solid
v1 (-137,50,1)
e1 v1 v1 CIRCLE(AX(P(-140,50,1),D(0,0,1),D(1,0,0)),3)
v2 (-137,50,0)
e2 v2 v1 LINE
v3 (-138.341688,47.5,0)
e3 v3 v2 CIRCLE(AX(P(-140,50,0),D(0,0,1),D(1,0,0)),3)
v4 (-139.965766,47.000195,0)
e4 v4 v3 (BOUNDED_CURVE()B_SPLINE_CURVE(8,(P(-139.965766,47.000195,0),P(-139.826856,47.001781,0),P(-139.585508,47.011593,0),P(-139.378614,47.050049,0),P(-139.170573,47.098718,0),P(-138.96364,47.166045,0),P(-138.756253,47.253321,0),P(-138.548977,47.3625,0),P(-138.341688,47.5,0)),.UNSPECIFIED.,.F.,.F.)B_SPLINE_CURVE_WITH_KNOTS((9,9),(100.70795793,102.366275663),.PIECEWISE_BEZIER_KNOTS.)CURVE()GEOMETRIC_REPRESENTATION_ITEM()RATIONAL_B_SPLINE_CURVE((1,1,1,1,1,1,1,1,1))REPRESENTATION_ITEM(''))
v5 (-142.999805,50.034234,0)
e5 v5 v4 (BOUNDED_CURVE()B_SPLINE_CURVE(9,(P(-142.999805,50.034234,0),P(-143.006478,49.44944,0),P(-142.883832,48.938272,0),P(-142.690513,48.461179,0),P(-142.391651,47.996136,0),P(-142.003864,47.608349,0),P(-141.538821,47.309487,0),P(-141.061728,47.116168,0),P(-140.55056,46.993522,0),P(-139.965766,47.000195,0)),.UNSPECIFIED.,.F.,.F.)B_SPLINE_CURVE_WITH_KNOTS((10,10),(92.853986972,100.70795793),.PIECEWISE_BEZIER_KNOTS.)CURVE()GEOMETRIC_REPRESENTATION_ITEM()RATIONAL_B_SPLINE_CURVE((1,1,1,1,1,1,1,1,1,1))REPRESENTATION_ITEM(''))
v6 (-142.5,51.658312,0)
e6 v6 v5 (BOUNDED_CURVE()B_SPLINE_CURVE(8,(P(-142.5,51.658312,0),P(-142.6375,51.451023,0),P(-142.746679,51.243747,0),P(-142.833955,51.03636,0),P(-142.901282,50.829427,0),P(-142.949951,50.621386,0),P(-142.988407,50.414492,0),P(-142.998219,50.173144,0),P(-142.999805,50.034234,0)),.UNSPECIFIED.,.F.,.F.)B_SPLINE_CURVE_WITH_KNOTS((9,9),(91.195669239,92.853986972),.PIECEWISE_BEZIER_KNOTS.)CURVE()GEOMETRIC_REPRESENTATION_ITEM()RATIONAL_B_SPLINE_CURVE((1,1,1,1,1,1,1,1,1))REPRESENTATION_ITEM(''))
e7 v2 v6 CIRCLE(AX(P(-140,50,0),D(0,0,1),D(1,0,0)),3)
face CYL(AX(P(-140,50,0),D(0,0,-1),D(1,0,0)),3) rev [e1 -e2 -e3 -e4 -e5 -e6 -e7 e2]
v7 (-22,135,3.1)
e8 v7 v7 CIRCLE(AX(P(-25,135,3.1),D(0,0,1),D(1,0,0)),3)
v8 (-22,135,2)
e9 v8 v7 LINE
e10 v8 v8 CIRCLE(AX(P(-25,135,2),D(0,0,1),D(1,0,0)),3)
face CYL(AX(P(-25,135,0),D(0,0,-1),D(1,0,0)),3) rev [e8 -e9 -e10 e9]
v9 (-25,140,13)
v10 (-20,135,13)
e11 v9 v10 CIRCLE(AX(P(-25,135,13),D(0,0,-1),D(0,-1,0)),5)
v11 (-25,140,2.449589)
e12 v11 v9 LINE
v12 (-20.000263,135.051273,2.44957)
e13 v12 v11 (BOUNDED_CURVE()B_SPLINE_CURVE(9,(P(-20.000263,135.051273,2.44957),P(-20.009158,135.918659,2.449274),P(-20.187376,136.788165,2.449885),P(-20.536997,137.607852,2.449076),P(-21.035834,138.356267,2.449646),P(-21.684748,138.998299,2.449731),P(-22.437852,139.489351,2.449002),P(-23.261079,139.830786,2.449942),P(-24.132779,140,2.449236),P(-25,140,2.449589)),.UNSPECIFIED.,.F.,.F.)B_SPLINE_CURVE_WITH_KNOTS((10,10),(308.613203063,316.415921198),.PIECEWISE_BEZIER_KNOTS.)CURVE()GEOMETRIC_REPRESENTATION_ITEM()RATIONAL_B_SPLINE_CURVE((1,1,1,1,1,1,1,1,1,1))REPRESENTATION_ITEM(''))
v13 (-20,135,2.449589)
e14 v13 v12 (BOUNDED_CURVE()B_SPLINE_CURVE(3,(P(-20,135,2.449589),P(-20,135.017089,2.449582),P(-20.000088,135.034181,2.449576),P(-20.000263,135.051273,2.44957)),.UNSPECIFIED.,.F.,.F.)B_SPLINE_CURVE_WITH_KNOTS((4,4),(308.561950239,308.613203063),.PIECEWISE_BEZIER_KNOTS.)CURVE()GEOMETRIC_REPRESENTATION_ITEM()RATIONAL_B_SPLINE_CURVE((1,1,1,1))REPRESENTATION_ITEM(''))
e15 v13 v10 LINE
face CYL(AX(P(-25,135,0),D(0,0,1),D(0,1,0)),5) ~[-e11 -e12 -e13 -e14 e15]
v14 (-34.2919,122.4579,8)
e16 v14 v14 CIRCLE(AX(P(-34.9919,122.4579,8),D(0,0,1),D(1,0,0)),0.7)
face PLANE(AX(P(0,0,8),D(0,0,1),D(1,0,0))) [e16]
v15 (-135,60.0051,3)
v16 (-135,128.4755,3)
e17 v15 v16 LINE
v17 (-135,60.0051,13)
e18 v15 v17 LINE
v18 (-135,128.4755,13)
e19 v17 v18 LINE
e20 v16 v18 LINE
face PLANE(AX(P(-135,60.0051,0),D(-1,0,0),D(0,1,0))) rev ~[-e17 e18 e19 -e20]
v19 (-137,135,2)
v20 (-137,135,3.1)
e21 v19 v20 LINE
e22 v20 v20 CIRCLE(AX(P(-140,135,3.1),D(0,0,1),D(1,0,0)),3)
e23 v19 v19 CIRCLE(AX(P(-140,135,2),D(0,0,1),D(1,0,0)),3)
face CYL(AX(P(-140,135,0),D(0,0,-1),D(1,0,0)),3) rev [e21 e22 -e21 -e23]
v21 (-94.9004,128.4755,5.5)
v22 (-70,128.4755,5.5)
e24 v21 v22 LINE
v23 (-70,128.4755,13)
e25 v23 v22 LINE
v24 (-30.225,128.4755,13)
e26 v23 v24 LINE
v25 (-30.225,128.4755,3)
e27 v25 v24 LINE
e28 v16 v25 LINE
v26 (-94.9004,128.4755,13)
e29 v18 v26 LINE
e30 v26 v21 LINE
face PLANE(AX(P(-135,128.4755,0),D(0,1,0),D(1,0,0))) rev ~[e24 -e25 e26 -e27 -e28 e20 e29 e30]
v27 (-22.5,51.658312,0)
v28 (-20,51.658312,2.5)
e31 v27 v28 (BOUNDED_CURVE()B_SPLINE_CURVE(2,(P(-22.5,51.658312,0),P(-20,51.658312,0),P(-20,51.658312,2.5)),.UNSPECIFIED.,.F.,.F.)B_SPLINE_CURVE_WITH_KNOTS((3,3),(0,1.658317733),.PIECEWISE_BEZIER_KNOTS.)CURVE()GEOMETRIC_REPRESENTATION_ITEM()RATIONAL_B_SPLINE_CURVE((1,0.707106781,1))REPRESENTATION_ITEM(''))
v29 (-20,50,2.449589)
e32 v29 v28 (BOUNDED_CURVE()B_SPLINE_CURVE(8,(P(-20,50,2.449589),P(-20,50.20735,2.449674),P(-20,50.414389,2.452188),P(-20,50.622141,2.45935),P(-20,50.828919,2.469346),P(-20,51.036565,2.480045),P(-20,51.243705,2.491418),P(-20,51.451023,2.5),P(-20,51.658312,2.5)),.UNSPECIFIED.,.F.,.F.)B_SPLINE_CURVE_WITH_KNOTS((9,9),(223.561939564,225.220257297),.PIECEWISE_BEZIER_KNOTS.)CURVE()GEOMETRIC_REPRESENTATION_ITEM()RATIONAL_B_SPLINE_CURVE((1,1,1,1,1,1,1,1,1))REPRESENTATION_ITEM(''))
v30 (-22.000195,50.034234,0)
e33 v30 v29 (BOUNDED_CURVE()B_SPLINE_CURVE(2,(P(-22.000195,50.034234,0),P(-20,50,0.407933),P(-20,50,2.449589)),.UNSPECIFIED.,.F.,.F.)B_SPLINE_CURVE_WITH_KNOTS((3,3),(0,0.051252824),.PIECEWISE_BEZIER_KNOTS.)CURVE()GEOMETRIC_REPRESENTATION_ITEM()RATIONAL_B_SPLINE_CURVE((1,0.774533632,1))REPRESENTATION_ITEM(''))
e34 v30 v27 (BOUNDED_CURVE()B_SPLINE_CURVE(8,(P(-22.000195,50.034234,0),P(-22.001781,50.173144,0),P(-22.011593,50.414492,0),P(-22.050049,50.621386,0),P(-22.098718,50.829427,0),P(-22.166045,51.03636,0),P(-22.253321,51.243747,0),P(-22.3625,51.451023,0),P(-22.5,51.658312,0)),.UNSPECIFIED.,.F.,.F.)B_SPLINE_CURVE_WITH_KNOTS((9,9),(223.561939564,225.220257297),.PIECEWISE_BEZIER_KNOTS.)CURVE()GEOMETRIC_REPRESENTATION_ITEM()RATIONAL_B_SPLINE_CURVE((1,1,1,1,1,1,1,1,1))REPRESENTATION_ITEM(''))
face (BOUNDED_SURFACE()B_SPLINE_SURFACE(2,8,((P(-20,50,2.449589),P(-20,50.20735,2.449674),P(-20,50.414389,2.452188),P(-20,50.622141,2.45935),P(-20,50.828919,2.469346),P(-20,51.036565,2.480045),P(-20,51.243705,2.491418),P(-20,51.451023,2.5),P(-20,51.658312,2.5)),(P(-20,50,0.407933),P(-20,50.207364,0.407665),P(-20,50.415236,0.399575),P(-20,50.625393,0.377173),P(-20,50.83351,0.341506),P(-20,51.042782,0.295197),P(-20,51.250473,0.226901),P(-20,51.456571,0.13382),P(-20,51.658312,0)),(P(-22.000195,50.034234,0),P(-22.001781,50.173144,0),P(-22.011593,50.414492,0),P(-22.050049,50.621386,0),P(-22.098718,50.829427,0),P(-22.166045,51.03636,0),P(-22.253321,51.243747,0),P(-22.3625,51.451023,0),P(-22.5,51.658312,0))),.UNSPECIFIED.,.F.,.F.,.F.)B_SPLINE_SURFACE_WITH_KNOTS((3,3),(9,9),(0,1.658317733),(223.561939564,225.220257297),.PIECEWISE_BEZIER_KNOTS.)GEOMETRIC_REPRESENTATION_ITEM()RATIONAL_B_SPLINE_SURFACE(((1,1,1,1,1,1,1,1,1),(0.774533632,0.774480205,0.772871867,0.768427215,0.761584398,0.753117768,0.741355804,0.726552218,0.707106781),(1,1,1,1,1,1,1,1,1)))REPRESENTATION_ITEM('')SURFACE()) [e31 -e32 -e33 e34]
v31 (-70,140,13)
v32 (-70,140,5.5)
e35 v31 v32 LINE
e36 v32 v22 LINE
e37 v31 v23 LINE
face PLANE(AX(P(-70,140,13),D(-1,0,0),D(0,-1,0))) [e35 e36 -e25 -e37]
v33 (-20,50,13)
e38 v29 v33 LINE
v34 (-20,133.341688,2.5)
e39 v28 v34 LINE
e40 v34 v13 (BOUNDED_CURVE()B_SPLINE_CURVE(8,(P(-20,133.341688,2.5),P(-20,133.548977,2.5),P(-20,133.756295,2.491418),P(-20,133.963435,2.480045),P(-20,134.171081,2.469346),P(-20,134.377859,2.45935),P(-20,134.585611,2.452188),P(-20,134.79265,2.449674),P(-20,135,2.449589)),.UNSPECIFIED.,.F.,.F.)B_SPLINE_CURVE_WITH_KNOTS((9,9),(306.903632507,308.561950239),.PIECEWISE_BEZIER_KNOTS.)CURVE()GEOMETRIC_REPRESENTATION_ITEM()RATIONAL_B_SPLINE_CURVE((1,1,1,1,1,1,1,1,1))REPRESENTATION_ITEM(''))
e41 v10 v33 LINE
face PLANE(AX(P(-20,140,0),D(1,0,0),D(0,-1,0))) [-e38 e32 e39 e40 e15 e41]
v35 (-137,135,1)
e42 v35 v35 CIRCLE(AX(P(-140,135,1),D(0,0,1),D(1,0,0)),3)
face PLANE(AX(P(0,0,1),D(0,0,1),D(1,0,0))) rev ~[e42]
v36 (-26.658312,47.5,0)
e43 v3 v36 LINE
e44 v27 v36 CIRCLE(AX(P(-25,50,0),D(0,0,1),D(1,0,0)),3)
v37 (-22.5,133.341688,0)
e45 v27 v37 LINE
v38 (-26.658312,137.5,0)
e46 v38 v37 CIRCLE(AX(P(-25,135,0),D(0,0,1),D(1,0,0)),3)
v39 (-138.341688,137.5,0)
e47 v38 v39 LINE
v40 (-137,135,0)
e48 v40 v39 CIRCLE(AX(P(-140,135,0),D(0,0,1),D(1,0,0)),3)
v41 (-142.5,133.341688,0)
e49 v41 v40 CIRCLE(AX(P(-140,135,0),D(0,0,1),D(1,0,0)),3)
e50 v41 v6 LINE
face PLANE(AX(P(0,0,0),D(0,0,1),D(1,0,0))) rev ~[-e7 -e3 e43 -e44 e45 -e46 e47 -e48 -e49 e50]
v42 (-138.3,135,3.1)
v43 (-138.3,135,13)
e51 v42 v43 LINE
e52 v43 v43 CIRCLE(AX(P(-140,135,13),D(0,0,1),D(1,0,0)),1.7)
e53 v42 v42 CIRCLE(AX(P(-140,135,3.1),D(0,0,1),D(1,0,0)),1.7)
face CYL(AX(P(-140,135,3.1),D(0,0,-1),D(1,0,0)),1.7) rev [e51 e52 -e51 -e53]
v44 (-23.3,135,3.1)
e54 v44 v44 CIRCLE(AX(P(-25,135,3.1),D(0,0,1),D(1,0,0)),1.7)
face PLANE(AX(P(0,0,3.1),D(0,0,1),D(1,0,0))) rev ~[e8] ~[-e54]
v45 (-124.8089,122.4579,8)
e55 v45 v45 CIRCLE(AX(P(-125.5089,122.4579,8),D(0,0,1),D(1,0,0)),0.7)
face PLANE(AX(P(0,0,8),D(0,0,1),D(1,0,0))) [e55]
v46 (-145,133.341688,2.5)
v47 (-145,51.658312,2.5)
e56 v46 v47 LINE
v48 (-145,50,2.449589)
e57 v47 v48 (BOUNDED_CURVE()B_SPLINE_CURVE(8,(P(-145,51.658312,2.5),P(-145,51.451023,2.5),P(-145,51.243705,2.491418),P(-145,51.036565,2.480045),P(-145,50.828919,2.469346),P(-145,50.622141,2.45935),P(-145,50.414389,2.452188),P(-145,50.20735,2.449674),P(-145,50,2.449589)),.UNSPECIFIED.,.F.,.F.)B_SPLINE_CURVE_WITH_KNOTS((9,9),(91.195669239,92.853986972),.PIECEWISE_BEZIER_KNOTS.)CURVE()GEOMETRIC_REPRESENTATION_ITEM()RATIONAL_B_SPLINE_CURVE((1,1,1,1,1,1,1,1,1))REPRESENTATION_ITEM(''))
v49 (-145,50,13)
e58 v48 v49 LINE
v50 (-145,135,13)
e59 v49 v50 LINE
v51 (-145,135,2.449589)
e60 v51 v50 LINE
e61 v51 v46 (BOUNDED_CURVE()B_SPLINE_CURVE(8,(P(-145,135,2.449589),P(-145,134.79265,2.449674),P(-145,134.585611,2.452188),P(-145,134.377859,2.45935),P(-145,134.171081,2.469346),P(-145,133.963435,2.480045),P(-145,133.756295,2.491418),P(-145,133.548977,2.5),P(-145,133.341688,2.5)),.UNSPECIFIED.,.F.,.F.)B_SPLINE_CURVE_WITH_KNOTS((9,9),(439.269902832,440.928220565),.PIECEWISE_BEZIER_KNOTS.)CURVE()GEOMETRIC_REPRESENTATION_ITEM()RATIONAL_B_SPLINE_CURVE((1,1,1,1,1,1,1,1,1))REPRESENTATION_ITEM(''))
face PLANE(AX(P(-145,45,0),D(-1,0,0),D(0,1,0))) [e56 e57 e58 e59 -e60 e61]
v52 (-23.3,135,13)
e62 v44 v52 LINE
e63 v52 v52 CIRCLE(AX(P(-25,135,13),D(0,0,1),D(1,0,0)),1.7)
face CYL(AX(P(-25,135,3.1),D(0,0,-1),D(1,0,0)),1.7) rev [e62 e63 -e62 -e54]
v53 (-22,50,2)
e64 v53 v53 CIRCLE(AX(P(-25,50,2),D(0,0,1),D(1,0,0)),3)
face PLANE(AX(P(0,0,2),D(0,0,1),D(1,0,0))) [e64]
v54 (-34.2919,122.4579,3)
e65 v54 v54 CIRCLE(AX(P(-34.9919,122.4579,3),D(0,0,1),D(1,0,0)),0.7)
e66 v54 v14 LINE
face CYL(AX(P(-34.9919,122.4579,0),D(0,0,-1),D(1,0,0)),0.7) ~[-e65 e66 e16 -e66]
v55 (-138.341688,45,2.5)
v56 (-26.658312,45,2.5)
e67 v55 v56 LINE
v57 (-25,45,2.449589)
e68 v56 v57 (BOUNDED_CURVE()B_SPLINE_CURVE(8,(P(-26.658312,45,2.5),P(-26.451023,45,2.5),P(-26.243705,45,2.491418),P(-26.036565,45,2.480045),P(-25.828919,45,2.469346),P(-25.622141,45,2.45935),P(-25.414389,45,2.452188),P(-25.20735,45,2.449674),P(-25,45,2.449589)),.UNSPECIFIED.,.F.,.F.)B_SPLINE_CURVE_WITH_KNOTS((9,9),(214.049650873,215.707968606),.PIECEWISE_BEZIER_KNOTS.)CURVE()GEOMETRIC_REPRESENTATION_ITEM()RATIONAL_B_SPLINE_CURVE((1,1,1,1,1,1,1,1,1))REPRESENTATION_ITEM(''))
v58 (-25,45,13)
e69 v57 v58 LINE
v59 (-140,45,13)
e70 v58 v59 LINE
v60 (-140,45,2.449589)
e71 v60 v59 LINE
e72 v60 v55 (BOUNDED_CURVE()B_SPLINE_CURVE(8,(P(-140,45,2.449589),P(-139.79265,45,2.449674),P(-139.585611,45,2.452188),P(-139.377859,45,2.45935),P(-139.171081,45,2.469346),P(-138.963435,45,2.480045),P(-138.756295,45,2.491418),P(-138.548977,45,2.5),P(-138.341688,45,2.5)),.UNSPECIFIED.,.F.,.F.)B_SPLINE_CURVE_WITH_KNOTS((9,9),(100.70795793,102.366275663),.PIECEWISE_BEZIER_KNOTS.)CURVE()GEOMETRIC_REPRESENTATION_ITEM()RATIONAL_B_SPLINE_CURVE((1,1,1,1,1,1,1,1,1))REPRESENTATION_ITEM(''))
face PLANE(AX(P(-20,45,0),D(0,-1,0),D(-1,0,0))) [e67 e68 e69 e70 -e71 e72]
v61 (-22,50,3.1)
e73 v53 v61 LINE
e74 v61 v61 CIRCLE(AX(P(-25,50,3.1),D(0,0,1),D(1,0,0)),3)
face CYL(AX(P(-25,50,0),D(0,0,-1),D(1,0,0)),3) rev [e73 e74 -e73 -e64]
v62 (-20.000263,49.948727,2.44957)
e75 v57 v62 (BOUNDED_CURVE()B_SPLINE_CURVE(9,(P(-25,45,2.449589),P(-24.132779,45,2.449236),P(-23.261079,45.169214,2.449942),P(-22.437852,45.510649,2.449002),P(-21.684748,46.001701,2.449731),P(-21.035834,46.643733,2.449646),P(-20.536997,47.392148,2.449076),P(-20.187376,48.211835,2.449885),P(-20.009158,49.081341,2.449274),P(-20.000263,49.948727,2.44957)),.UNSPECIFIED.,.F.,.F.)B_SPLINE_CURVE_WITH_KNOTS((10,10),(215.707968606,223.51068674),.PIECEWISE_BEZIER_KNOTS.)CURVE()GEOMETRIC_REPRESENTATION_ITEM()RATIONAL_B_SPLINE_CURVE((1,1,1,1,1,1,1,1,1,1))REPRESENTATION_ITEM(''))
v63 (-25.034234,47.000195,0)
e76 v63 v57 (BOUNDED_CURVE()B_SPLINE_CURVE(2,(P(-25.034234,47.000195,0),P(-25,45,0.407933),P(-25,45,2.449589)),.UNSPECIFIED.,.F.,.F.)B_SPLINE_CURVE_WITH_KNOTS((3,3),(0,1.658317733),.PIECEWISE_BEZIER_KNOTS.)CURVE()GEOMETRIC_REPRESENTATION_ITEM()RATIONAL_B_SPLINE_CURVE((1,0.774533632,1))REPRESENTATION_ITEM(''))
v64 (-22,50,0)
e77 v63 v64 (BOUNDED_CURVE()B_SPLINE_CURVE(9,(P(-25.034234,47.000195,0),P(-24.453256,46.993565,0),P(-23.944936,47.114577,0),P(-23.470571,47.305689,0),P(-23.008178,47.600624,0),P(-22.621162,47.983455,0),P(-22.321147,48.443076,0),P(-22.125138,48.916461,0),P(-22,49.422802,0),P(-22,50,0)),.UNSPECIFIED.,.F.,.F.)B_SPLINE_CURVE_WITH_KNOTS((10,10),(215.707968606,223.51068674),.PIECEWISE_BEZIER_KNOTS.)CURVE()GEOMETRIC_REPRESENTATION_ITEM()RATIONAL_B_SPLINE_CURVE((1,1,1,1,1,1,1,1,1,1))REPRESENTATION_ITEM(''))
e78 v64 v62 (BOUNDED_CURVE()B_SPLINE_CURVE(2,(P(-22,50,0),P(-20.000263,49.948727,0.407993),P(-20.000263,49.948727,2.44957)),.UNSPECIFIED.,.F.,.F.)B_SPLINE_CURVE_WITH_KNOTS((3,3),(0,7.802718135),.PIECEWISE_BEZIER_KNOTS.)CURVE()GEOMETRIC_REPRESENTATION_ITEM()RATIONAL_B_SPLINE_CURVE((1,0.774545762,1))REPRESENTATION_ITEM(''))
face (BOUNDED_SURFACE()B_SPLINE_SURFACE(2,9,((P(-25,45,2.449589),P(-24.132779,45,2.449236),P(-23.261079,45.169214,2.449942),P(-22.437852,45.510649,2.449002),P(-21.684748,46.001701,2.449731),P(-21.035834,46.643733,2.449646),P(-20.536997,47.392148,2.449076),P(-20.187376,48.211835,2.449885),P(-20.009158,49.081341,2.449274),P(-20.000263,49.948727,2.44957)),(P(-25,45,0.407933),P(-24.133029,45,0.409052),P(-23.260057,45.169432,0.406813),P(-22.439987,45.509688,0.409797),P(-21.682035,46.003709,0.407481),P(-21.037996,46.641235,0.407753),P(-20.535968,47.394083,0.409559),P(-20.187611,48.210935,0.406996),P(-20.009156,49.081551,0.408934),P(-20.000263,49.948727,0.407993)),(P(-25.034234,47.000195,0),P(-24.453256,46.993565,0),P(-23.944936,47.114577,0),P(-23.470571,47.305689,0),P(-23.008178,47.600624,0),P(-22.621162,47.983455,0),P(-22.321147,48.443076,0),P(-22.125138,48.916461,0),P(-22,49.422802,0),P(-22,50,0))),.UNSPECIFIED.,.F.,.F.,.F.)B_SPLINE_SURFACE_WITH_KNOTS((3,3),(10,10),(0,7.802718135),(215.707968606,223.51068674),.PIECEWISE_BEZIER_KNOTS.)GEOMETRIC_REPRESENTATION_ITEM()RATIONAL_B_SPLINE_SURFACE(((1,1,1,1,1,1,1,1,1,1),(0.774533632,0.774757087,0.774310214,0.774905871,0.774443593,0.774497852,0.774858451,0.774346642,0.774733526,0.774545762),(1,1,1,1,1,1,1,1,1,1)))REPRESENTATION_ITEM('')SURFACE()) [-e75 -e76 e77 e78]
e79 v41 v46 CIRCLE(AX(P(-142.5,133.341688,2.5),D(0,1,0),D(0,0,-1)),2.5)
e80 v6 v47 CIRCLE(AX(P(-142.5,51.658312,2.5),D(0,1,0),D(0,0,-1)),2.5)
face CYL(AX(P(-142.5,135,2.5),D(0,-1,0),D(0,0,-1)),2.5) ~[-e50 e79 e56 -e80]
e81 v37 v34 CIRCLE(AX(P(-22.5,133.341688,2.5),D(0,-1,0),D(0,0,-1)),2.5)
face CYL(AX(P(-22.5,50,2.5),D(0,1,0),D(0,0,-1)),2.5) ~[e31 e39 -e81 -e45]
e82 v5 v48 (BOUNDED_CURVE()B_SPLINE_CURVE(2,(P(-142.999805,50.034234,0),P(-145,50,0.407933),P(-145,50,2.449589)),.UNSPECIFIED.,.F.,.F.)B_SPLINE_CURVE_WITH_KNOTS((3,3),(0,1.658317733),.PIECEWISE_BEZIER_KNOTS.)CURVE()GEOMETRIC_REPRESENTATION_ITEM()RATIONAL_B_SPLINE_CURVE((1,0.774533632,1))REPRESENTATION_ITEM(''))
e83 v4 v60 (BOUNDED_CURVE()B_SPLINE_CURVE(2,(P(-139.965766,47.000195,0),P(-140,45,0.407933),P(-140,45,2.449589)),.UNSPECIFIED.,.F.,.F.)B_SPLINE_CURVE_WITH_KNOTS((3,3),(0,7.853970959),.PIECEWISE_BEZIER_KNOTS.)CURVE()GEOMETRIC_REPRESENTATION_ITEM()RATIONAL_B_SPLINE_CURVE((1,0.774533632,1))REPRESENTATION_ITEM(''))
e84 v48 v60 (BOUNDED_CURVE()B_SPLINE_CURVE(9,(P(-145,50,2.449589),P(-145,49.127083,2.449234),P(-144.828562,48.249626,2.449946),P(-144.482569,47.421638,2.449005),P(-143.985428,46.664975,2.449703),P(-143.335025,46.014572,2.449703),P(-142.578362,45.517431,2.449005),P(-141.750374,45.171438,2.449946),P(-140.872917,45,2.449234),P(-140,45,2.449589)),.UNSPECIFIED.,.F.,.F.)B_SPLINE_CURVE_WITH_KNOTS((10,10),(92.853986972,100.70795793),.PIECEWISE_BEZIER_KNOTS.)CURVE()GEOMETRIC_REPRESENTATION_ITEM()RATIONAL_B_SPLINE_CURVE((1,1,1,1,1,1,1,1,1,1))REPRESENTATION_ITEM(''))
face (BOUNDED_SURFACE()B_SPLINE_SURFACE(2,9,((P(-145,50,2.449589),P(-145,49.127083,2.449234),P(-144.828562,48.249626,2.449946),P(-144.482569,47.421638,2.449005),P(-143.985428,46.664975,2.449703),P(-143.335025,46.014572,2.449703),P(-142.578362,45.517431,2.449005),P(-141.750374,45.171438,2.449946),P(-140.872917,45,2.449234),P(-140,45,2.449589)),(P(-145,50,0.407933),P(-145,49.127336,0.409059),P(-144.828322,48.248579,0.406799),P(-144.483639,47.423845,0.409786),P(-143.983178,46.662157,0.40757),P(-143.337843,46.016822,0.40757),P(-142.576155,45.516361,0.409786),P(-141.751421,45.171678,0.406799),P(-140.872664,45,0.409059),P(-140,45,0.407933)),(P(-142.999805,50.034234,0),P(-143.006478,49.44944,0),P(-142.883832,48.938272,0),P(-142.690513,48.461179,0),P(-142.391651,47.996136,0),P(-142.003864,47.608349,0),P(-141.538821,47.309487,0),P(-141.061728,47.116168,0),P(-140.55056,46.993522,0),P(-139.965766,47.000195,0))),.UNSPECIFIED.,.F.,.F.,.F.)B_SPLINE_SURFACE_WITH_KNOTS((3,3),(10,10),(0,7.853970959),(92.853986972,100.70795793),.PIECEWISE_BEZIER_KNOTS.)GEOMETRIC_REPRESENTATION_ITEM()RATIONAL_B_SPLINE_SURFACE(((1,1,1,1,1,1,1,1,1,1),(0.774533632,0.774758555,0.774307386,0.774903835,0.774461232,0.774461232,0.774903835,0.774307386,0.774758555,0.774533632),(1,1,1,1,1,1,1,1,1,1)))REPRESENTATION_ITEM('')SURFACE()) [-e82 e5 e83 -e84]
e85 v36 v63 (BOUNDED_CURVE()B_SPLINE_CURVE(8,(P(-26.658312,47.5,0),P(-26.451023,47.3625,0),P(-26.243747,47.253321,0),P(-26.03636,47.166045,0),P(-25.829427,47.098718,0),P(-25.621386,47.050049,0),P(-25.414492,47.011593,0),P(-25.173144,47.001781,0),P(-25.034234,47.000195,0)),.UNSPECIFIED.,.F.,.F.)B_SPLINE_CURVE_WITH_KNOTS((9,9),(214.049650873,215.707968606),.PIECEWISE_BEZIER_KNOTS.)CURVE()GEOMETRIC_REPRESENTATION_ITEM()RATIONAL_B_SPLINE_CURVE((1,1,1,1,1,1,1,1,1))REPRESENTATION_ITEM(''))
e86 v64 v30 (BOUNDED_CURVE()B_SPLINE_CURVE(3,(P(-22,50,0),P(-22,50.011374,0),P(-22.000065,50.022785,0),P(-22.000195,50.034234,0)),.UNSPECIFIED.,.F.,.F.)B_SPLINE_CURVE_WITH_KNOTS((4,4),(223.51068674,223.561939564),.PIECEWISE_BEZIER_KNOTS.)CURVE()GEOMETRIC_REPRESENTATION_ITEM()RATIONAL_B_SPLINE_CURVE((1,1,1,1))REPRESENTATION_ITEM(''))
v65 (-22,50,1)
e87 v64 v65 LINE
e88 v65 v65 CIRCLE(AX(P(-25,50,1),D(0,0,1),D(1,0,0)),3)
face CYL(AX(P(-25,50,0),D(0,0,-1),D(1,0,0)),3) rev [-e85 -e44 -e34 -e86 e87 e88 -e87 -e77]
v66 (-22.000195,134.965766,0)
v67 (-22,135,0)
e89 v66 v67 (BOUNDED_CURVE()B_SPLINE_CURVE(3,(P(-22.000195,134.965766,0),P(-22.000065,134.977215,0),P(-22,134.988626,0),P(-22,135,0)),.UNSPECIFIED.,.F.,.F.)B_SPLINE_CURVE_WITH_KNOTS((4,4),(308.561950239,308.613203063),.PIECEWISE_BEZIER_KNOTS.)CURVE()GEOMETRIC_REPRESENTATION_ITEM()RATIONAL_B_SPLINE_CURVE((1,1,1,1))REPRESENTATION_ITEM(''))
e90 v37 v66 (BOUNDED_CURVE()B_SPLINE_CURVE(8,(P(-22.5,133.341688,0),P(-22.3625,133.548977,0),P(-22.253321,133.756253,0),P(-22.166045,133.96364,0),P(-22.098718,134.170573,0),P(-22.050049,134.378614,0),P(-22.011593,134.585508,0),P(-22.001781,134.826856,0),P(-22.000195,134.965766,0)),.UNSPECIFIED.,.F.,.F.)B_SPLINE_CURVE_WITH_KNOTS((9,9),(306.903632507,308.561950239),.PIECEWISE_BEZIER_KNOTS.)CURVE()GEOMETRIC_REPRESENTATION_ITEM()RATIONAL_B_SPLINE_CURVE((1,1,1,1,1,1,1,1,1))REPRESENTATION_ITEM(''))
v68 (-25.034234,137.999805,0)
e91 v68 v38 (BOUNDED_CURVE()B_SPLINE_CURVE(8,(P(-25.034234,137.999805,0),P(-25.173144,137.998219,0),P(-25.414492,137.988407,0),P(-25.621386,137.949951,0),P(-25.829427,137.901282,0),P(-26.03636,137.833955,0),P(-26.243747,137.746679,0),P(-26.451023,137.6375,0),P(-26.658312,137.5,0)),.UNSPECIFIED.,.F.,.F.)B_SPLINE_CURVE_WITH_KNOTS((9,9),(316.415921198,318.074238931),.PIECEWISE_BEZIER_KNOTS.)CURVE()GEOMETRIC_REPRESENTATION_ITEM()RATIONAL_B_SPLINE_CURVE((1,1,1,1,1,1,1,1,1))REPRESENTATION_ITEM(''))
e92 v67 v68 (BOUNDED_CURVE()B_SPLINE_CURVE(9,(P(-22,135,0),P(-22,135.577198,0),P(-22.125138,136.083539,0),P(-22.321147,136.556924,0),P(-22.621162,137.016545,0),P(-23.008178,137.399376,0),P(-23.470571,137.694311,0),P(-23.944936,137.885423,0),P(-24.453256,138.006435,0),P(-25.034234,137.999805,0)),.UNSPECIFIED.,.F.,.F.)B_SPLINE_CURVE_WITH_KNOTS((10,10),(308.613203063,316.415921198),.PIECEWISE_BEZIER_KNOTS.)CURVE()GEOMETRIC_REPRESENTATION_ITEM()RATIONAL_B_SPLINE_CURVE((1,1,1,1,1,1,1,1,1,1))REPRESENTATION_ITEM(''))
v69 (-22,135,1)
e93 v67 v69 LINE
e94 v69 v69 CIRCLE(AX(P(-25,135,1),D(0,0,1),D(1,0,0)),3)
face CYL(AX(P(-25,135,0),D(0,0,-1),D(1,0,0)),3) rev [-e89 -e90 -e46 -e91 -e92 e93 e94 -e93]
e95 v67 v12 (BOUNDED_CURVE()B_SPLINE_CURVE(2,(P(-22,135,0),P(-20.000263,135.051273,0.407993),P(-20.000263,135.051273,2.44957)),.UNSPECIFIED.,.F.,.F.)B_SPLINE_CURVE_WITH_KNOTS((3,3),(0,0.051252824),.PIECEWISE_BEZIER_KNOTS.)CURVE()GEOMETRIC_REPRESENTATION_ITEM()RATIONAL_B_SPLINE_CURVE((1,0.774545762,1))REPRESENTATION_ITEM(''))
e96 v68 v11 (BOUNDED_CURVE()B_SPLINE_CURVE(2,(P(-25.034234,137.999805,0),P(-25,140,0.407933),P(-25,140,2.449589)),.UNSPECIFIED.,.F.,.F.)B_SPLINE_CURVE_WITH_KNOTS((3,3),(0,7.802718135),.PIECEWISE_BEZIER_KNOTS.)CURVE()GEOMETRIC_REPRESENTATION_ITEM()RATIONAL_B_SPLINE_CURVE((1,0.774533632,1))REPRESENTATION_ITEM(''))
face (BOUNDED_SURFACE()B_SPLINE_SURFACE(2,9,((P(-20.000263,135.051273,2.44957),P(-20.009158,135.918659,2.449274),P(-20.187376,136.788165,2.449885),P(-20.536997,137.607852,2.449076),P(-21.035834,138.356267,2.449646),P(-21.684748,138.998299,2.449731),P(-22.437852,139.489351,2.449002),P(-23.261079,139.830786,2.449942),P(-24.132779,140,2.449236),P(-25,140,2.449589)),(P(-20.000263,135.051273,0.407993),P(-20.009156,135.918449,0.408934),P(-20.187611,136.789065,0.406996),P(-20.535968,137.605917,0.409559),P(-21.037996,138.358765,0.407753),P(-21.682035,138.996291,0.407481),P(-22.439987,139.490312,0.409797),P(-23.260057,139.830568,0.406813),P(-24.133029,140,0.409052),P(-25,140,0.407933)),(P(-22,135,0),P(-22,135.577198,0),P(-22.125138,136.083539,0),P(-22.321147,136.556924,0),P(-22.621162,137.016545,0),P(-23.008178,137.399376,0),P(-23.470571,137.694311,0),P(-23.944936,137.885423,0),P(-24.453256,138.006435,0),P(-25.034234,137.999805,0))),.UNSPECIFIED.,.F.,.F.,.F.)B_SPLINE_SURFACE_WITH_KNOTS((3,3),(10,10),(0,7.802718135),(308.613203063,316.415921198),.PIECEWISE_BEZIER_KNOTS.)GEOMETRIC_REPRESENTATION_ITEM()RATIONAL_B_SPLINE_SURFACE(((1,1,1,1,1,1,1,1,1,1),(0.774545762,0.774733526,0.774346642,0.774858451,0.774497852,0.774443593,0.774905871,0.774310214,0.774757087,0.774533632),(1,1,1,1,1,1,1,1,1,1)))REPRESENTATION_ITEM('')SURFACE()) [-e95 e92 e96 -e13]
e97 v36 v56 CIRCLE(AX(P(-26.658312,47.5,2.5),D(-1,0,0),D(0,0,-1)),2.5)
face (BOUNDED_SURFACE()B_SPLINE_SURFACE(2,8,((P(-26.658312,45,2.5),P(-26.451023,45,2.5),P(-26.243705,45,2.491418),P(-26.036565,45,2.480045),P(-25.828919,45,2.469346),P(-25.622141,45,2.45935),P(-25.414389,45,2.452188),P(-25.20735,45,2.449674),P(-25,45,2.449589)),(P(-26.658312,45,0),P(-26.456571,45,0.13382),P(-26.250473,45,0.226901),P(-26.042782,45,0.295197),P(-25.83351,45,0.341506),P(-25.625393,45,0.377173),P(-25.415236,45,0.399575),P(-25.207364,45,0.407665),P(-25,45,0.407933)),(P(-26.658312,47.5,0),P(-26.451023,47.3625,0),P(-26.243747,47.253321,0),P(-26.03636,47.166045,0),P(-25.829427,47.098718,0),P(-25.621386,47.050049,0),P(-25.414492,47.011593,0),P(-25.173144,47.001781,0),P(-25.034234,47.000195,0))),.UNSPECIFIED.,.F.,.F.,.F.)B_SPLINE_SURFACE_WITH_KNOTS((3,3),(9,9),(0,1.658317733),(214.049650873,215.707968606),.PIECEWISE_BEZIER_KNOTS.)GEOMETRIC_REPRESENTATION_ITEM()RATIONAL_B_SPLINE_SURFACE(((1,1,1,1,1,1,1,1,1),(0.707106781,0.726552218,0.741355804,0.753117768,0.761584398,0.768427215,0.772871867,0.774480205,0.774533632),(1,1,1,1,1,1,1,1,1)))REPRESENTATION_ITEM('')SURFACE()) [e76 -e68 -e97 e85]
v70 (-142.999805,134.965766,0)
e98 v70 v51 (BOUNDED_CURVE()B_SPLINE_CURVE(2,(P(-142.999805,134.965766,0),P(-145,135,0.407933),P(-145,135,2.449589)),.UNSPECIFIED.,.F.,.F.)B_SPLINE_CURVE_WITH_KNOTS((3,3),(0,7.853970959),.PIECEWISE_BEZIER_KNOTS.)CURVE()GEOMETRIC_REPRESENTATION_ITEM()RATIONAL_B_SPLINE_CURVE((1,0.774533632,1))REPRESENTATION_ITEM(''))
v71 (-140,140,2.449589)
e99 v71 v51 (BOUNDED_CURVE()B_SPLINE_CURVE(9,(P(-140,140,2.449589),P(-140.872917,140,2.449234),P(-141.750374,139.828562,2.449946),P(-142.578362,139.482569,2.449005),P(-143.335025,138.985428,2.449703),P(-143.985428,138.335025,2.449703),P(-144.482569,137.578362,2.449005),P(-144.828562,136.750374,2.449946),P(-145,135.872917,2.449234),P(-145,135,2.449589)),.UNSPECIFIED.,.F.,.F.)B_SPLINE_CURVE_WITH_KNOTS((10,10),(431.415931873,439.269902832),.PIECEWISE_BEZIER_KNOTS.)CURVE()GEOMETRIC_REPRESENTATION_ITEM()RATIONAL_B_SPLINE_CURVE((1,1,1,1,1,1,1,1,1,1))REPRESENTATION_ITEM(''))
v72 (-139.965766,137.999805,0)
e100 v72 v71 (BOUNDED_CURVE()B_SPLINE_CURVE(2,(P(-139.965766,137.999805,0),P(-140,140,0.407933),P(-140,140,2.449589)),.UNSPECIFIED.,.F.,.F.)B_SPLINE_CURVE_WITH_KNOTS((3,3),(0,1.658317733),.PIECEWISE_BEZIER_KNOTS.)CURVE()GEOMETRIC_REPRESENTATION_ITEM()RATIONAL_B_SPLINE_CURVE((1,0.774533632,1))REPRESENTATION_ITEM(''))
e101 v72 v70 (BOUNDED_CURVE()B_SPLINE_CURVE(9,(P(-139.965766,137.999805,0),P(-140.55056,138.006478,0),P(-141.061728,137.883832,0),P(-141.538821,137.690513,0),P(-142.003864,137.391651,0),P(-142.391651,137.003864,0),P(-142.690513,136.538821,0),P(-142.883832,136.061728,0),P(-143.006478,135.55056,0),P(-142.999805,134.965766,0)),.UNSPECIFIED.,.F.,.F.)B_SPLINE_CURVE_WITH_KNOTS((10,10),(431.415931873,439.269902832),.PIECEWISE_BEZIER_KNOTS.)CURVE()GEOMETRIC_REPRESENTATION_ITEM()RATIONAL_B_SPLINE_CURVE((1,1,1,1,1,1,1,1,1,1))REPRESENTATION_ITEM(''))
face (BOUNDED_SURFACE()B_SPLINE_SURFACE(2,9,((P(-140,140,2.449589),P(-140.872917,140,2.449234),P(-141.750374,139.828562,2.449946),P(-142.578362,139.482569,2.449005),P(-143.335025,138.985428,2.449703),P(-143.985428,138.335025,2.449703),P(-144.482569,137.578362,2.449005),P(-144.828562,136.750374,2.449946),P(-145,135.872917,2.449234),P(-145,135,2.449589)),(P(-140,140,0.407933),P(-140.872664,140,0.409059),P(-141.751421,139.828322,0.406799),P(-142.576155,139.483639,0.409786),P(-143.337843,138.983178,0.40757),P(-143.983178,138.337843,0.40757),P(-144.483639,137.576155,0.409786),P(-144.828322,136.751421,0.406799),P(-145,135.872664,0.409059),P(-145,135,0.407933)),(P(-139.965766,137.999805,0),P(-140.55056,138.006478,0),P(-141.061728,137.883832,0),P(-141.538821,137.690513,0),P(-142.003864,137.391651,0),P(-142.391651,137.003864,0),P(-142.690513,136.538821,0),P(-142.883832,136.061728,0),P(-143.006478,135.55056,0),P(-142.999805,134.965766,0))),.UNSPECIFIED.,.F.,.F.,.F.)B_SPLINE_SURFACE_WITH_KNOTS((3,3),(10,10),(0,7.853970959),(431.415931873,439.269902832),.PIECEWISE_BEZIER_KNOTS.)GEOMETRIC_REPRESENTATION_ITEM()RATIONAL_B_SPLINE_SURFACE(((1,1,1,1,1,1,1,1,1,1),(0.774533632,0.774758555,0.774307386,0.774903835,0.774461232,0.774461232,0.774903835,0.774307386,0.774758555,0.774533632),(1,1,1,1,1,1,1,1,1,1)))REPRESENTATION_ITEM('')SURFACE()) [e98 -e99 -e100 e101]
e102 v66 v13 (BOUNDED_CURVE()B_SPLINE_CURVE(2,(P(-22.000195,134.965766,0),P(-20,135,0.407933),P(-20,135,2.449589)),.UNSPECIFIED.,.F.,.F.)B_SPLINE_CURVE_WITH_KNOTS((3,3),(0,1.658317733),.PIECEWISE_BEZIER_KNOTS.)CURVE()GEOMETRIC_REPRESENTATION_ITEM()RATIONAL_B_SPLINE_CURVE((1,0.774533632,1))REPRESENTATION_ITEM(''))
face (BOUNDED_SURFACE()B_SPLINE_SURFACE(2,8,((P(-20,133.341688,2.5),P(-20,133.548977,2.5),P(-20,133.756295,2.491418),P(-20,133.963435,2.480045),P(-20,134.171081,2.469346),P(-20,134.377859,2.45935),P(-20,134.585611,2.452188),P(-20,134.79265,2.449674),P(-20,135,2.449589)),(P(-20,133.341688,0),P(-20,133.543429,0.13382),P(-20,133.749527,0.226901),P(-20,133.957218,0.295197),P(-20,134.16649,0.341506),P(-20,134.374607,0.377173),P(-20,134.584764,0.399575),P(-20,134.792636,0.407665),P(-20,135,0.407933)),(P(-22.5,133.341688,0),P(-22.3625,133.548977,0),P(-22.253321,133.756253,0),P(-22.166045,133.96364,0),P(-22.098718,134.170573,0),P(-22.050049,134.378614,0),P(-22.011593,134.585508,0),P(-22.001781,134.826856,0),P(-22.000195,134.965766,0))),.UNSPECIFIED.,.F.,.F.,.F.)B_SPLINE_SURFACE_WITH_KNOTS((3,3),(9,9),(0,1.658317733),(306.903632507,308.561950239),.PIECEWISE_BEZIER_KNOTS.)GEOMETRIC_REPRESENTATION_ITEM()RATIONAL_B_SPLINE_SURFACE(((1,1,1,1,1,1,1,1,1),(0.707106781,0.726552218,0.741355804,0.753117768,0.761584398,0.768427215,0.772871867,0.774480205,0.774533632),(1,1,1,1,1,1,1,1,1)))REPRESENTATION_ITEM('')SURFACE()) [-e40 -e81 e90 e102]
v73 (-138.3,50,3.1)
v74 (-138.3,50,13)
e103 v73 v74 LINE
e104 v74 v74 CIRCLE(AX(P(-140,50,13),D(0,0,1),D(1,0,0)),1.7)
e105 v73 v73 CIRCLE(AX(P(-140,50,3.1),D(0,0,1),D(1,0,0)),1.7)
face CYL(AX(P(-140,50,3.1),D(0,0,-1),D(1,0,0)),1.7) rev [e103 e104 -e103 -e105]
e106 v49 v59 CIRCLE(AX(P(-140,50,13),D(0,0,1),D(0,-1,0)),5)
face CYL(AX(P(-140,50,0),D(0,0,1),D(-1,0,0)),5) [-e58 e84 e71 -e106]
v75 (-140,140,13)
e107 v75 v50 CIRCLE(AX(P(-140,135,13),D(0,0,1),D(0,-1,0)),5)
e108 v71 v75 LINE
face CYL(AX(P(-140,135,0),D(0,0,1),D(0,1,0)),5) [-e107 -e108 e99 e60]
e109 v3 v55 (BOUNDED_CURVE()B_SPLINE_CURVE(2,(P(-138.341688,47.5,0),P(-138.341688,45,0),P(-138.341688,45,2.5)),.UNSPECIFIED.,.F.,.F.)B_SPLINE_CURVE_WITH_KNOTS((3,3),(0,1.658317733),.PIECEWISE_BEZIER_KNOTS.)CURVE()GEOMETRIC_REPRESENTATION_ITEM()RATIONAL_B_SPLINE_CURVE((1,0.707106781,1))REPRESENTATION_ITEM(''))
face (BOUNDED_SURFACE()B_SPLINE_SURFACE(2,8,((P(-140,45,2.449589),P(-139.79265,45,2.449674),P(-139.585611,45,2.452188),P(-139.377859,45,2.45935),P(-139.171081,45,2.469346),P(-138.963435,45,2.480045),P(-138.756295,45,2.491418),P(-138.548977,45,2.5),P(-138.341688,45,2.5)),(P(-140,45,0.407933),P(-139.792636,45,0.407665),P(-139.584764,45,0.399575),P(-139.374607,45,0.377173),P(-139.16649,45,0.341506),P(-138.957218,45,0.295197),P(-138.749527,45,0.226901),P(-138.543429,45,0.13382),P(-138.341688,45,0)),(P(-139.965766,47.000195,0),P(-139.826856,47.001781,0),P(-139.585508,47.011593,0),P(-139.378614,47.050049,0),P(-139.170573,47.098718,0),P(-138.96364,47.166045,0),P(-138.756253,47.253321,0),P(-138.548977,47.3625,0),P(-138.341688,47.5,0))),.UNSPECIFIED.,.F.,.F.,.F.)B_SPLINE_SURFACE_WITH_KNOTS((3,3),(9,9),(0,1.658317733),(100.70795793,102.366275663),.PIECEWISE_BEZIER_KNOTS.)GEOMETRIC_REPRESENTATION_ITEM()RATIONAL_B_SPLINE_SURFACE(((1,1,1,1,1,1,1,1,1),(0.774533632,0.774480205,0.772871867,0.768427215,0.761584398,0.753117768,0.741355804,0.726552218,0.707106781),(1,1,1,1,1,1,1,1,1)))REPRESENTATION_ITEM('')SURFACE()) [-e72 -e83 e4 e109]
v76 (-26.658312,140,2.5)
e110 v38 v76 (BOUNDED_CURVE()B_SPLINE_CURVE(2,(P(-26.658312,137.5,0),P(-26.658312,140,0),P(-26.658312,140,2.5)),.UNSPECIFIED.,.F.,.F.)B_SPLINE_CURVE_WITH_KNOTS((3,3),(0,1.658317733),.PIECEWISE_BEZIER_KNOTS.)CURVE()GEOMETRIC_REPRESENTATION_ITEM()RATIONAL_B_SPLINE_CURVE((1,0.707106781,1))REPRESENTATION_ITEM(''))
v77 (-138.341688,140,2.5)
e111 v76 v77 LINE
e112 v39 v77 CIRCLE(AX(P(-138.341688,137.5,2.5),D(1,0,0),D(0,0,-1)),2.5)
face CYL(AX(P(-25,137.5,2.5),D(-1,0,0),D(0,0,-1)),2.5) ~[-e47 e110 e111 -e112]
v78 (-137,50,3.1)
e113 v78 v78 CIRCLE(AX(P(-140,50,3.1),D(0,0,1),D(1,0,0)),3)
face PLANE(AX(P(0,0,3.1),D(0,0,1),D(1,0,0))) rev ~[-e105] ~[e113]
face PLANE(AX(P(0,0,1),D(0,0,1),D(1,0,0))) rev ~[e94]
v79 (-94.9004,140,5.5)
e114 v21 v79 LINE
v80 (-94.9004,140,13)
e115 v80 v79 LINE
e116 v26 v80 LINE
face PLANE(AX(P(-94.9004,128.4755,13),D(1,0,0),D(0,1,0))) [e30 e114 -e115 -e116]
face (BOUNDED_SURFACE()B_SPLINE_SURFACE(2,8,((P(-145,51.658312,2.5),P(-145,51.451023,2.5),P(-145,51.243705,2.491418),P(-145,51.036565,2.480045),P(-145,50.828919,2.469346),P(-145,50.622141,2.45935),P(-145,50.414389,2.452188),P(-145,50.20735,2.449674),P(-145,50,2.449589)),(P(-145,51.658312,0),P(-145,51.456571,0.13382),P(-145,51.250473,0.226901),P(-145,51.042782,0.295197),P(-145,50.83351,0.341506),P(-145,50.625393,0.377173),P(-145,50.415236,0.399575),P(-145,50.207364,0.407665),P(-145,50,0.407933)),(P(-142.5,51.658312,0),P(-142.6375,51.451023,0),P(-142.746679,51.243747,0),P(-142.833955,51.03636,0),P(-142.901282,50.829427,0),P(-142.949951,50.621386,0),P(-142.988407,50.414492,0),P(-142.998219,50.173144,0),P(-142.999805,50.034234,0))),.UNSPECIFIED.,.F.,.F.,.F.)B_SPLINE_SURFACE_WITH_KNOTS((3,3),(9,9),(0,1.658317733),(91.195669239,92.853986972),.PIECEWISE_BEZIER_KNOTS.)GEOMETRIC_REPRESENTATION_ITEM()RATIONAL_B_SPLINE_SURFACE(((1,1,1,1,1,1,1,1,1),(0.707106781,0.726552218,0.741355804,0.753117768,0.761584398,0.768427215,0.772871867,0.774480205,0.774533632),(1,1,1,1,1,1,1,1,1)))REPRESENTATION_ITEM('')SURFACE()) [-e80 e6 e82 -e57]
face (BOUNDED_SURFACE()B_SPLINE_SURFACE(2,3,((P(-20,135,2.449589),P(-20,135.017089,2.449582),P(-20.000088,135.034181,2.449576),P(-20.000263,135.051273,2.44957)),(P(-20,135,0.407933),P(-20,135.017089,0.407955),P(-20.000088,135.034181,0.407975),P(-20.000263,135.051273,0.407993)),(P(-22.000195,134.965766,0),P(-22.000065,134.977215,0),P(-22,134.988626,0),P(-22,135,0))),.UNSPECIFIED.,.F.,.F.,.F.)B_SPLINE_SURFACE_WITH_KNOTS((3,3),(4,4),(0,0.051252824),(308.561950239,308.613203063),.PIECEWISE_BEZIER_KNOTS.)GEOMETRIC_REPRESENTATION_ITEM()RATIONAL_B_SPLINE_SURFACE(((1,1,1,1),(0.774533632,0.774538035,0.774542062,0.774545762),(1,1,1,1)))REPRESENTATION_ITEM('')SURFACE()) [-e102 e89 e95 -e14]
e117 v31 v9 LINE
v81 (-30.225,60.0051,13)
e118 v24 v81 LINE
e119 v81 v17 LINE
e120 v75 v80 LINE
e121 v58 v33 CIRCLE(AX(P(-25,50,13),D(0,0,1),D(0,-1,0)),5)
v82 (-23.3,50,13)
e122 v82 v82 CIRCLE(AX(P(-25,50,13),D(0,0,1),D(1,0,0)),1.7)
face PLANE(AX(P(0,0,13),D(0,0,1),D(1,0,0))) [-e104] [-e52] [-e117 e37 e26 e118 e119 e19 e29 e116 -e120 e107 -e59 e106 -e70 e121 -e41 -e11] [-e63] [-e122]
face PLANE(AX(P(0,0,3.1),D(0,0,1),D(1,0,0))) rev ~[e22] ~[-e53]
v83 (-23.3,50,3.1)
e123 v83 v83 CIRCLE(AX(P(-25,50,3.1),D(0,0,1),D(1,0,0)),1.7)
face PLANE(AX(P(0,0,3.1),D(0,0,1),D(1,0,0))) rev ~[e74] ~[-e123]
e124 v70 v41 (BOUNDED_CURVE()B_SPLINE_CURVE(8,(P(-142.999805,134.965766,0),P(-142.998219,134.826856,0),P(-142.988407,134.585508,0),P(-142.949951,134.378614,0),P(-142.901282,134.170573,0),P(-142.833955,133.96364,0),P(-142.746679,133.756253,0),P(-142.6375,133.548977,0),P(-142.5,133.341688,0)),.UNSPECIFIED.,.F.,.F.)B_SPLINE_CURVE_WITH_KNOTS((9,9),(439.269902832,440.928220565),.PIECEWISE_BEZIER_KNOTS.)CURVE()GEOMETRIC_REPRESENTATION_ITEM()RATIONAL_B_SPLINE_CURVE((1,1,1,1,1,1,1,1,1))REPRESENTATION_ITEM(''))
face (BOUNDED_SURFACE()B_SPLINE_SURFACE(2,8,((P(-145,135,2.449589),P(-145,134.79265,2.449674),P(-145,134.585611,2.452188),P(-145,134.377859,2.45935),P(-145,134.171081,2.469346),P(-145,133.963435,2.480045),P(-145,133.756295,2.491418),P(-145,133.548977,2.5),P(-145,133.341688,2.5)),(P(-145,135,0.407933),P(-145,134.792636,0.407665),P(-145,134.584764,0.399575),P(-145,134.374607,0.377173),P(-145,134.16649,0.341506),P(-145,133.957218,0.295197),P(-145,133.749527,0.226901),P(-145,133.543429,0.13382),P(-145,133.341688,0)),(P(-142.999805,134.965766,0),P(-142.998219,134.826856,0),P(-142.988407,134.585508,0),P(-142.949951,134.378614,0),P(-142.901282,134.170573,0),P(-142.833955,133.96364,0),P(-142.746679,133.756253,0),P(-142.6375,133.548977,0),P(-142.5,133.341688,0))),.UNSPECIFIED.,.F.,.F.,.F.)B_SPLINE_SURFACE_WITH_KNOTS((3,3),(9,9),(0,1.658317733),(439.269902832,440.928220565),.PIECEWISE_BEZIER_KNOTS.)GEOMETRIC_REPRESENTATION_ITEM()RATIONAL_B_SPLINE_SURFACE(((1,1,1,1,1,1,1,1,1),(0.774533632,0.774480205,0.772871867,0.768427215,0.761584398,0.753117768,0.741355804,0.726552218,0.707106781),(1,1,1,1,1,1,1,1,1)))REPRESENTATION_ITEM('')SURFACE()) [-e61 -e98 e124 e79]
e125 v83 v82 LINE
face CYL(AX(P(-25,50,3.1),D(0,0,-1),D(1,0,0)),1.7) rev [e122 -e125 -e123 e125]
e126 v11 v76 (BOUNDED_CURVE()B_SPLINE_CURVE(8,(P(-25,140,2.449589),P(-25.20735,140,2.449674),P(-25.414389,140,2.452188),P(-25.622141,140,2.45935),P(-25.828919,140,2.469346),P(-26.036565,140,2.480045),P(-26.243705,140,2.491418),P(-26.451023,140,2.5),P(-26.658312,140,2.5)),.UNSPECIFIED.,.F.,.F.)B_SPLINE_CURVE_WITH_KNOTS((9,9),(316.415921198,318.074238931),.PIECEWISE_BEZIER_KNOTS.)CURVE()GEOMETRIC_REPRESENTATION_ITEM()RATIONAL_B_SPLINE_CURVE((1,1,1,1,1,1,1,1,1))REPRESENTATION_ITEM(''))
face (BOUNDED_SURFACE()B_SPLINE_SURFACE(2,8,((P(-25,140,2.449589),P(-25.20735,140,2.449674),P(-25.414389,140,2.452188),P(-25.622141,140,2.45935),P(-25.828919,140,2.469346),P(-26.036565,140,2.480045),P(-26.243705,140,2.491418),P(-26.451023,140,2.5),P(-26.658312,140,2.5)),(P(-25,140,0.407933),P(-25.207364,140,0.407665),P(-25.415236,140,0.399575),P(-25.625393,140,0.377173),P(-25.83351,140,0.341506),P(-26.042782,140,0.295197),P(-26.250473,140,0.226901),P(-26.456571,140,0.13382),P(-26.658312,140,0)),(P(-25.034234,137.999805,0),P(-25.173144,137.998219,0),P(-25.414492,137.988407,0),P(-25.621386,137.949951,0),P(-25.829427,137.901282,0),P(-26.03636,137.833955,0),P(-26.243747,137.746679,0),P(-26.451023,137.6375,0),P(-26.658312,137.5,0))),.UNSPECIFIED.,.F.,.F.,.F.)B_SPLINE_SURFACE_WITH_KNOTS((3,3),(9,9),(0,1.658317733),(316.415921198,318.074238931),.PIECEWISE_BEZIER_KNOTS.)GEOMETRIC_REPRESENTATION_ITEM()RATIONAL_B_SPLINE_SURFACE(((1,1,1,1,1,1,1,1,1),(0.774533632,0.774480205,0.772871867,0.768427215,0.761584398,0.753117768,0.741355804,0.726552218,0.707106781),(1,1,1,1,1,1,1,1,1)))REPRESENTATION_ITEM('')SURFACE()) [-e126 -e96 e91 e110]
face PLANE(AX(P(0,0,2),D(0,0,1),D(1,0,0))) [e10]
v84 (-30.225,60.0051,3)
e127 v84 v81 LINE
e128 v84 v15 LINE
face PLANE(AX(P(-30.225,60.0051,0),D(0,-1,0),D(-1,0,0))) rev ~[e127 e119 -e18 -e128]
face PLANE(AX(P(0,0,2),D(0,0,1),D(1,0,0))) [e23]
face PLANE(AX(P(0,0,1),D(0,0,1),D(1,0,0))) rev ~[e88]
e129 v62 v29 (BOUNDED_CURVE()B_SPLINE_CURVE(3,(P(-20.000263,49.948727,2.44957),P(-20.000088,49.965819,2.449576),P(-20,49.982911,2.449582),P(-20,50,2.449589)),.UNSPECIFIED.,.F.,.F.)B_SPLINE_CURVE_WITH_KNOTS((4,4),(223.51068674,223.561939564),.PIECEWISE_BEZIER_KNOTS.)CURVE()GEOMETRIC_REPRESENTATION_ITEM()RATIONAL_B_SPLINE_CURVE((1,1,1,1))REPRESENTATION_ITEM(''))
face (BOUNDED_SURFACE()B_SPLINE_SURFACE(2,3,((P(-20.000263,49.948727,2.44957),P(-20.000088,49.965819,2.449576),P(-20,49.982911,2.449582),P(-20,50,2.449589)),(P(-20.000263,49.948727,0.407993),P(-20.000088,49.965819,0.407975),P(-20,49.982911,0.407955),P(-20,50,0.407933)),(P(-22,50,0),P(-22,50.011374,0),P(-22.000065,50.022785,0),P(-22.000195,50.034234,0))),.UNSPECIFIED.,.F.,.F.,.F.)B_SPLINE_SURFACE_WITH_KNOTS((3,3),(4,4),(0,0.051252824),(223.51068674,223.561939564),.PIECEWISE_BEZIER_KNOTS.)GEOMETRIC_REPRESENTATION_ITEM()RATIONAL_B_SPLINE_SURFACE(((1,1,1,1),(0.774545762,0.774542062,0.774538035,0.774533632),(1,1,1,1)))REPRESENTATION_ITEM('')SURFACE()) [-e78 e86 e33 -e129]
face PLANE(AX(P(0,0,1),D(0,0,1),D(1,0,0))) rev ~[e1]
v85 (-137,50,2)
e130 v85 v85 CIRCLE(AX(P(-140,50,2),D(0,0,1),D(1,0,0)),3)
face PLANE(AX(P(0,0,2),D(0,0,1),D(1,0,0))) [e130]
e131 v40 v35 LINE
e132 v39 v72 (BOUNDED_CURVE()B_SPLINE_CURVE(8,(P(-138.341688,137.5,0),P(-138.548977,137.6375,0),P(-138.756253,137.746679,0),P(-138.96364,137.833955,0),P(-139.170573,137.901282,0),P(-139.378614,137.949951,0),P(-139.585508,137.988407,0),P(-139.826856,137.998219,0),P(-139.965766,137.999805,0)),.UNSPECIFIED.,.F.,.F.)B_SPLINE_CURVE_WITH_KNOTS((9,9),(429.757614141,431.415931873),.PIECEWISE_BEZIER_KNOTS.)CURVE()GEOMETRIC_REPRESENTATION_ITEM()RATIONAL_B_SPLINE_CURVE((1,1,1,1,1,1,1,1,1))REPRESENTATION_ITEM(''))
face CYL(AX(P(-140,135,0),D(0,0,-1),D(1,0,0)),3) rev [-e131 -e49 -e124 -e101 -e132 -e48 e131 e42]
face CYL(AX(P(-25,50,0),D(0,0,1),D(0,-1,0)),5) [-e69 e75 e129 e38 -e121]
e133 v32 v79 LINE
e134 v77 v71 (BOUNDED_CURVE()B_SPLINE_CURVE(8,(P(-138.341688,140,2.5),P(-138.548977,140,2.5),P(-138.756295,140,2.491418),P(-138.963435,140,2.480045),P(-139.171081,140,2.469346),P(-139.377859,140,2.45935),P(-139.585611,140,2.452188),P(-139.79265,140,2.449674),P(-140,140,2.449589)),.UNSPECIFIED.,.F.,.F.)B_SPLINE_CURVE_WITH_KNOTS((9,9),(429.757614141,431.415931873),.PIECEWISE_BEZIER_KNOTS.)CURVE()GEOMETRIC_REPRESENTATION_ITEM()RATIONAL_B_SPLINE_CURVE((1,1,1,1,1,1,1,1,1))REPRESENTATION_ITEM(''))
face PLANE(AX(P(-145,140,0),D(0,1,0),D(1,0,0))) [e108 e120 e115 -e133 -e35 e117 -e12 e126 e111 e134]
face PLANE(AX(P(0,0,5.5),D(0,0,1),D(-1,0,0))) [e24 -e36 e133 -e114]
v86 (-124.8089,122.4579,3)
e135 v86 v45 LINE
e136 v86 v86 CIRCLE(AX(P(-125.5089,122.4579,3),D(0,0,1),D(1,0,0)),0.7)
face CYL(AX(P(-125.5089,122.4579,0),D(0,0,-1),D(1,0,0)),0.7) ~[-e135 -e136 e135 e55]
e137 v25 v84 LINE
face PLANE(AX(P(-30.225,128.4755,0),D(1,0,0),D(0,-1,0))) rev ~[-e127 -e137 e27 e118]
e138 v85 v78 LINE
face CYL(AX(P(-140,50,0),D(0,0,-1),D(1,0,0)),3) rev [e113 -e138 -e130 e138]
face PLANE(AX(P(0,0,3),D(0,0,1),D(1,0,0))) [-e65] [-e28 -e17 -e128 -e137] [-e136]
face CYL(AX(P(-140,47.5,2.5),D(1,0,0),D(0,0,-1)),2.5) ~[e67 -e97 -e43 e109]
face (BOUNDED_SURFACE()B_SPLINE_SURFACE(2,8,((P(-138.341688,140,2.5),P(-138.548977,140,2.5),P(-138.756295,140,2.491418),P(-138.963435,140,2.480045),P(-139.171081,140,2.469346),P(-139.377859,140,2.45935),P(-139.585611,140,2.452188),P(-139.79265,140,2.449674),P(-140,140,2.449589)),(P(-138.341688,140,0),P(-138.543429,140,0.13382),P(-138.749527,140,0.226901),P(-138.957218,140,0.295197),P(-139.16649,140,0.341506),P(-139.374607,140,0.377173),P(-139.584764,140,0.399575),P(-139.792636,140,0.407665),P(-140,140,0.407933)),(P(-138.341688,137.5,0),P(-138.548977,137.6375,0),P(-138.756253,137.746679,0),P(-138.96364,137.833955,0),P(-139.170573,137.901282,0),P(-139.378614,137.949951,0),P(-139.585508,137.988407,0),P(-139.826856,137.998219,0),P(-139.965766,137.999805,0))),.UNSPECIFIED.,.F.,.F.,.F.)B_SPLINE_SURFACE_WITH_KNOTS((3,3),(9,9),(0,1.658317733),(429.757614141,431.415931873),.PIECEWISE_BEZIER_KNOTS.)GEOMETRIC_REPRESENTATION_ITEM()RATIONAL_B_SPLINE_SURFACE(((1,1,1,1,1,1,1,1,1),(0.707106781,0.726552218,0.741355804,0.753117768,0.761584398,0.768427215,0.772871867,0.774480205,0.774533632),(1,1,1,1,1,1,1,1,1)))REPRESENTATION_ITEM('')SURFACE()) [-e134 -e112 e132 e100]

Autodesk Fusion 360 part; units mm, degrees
sketch "Sketch1" plane through (0, 0, 0) normal (0, 0, 1) x (1, 0, 0)
  line L0 (-135, 128.4755) -> (-30.225, 128.4755)
  line L1 (-30.225, 128.4755) -> (-30.225, 60.0051)
  line L2 (-30.225, 60.0051) -> (-135, 60.0051)
  line L3 (-135, 60.0051) -> (-135, 128.4755)
  circle A0 centre (-34.9919, 122.4579) radius 0.7
  circle A1 centre (-125.5089, 122.4579) radius 0.7
  circle A2 centre (-140, 135) radius 3
  circle A3 centre (-25, 135) radius 3
  circle A4 centre (-25, 50) radius 3
  circle A5 centre (-140, 50) radius 3
  line L4 (-145, 140) -> (-20, 140)
  line L5 (-20, 140) -> (-20, 45)
  line L6 (-20, 45) -> (-145, 45)
  line L7 (-145, 45) -> (-145, 140)
  circle A6 centre (-25, 135) radius 1.7
  circle A7 centre (-140, 135) radius 1.7
  circle A8 centre (-140, 50) radius 1.7
  circle A9 centre (-25, 50) radius 1.7
  dimension "d1" = 104.775
  dimension "d2" = 68.4704
  dimension "d17" = 1.4
  dimension "d18" = 1.4
  dimension "d24" = 6
  dimension "d25" = 6
  dimension "d26" = 6
  dimension "d28" = 6
  dimension "d29" = 3.4
  dimension "d30" = 3.4
  dimension "d31" = 3.4
  dimension "d32" = 3.4
extrude "Extrude1" add sketch "Sketch1" along normal blind 9.9 from surface at 3.1 contours A2 | A3 | A4 | A5 makes body 1 at (-22.2356, 136.1653, 9.7) makes body 2 at (-137.2356, 136.1653, 9.7) makes body 3 at (-22.0037, 49.8505, 9.7) makes body 4 at (-139.1875, 52.8879, 9.7)
extrude "Extrude2" add sketch "Sketch1" along normal blind 13 contours L4 L5 L6 L7 bodies 1 2 3 4
extrude "Extrude3" add sketch "Sketch1" along normal blind 3 contours L0 L1 L2 L3 bodies 1
extrude "Extrude4" add sketch "Sketch1" along normal blind 8 contours A0 | A1 bodies 1
sketch "Sketch2" plane through (0, 0, 13) normal (0, 0, 1) x (-1, 0, 0)
  circle A0 centre (25, -135) radius 1.7
  circle A1 centre (140, -50) radius 1.7
  line L0 (30.225, -60.0051) -> (135, -60.0051)
  line L1 (135, -60.0051) -> (135, -128.4755)
  line L2 (135, -128.4755) -> (30.225, -128.4755)
  line L3 (30.225, -128.4755) -> (30.225, -60.0051)
  line L4 (145, -45) -> (20, -45)
  line L5 (20, -45) -> (20, -140)
  line L6 (20, -140) -> (145, -140)
  line L7 (145, -140) -> (145, -45)
  circle A2 centre (140, -135) radius 1.7
  circle A3 centre (25, -50) radius 1.7
  line L8 (94.9004, -128.4755) -> (94.9004, -140)
  line L9 (70, -140) -> (70, -128.4755)
extrude "Extrude5" cut sketch "Sketch2" against normal blind 7.5 contours L2 L6 L8 L9 bodies 1
fillet "Fillet1" radius 5 4 edges at (-145, 45, 6.5) (-145, 140, 6.5) (-20, 140, 6.5) (-20, 45, 6.5) on bodies 1
fillet "Fillet2" radius 2.5 8 edges at (-143.5355, 138.5355, 0) (-82.5, 140, 0) (-21.4645, 138.5355, 0) (-20, 92.5, 0) (-21.4645, 46.4645, 0) (-82.5, 45, 0) (-143.5355, 46.4645, 0) (-145, 92.5, 0) on bodies 1
extrude "Extrude6" add sketch "Sketch1" along normal blind 2 contours A2 | A3 | A4 | A5 | A6 | A7 | A8 | A9 bodies 1
extrude "Extrude7" cut sketch "Sketch1" along normal blind 1 contours A2 | A3 | A4 | A5 | A6 | A7 | A8 | A9 bodies 1
